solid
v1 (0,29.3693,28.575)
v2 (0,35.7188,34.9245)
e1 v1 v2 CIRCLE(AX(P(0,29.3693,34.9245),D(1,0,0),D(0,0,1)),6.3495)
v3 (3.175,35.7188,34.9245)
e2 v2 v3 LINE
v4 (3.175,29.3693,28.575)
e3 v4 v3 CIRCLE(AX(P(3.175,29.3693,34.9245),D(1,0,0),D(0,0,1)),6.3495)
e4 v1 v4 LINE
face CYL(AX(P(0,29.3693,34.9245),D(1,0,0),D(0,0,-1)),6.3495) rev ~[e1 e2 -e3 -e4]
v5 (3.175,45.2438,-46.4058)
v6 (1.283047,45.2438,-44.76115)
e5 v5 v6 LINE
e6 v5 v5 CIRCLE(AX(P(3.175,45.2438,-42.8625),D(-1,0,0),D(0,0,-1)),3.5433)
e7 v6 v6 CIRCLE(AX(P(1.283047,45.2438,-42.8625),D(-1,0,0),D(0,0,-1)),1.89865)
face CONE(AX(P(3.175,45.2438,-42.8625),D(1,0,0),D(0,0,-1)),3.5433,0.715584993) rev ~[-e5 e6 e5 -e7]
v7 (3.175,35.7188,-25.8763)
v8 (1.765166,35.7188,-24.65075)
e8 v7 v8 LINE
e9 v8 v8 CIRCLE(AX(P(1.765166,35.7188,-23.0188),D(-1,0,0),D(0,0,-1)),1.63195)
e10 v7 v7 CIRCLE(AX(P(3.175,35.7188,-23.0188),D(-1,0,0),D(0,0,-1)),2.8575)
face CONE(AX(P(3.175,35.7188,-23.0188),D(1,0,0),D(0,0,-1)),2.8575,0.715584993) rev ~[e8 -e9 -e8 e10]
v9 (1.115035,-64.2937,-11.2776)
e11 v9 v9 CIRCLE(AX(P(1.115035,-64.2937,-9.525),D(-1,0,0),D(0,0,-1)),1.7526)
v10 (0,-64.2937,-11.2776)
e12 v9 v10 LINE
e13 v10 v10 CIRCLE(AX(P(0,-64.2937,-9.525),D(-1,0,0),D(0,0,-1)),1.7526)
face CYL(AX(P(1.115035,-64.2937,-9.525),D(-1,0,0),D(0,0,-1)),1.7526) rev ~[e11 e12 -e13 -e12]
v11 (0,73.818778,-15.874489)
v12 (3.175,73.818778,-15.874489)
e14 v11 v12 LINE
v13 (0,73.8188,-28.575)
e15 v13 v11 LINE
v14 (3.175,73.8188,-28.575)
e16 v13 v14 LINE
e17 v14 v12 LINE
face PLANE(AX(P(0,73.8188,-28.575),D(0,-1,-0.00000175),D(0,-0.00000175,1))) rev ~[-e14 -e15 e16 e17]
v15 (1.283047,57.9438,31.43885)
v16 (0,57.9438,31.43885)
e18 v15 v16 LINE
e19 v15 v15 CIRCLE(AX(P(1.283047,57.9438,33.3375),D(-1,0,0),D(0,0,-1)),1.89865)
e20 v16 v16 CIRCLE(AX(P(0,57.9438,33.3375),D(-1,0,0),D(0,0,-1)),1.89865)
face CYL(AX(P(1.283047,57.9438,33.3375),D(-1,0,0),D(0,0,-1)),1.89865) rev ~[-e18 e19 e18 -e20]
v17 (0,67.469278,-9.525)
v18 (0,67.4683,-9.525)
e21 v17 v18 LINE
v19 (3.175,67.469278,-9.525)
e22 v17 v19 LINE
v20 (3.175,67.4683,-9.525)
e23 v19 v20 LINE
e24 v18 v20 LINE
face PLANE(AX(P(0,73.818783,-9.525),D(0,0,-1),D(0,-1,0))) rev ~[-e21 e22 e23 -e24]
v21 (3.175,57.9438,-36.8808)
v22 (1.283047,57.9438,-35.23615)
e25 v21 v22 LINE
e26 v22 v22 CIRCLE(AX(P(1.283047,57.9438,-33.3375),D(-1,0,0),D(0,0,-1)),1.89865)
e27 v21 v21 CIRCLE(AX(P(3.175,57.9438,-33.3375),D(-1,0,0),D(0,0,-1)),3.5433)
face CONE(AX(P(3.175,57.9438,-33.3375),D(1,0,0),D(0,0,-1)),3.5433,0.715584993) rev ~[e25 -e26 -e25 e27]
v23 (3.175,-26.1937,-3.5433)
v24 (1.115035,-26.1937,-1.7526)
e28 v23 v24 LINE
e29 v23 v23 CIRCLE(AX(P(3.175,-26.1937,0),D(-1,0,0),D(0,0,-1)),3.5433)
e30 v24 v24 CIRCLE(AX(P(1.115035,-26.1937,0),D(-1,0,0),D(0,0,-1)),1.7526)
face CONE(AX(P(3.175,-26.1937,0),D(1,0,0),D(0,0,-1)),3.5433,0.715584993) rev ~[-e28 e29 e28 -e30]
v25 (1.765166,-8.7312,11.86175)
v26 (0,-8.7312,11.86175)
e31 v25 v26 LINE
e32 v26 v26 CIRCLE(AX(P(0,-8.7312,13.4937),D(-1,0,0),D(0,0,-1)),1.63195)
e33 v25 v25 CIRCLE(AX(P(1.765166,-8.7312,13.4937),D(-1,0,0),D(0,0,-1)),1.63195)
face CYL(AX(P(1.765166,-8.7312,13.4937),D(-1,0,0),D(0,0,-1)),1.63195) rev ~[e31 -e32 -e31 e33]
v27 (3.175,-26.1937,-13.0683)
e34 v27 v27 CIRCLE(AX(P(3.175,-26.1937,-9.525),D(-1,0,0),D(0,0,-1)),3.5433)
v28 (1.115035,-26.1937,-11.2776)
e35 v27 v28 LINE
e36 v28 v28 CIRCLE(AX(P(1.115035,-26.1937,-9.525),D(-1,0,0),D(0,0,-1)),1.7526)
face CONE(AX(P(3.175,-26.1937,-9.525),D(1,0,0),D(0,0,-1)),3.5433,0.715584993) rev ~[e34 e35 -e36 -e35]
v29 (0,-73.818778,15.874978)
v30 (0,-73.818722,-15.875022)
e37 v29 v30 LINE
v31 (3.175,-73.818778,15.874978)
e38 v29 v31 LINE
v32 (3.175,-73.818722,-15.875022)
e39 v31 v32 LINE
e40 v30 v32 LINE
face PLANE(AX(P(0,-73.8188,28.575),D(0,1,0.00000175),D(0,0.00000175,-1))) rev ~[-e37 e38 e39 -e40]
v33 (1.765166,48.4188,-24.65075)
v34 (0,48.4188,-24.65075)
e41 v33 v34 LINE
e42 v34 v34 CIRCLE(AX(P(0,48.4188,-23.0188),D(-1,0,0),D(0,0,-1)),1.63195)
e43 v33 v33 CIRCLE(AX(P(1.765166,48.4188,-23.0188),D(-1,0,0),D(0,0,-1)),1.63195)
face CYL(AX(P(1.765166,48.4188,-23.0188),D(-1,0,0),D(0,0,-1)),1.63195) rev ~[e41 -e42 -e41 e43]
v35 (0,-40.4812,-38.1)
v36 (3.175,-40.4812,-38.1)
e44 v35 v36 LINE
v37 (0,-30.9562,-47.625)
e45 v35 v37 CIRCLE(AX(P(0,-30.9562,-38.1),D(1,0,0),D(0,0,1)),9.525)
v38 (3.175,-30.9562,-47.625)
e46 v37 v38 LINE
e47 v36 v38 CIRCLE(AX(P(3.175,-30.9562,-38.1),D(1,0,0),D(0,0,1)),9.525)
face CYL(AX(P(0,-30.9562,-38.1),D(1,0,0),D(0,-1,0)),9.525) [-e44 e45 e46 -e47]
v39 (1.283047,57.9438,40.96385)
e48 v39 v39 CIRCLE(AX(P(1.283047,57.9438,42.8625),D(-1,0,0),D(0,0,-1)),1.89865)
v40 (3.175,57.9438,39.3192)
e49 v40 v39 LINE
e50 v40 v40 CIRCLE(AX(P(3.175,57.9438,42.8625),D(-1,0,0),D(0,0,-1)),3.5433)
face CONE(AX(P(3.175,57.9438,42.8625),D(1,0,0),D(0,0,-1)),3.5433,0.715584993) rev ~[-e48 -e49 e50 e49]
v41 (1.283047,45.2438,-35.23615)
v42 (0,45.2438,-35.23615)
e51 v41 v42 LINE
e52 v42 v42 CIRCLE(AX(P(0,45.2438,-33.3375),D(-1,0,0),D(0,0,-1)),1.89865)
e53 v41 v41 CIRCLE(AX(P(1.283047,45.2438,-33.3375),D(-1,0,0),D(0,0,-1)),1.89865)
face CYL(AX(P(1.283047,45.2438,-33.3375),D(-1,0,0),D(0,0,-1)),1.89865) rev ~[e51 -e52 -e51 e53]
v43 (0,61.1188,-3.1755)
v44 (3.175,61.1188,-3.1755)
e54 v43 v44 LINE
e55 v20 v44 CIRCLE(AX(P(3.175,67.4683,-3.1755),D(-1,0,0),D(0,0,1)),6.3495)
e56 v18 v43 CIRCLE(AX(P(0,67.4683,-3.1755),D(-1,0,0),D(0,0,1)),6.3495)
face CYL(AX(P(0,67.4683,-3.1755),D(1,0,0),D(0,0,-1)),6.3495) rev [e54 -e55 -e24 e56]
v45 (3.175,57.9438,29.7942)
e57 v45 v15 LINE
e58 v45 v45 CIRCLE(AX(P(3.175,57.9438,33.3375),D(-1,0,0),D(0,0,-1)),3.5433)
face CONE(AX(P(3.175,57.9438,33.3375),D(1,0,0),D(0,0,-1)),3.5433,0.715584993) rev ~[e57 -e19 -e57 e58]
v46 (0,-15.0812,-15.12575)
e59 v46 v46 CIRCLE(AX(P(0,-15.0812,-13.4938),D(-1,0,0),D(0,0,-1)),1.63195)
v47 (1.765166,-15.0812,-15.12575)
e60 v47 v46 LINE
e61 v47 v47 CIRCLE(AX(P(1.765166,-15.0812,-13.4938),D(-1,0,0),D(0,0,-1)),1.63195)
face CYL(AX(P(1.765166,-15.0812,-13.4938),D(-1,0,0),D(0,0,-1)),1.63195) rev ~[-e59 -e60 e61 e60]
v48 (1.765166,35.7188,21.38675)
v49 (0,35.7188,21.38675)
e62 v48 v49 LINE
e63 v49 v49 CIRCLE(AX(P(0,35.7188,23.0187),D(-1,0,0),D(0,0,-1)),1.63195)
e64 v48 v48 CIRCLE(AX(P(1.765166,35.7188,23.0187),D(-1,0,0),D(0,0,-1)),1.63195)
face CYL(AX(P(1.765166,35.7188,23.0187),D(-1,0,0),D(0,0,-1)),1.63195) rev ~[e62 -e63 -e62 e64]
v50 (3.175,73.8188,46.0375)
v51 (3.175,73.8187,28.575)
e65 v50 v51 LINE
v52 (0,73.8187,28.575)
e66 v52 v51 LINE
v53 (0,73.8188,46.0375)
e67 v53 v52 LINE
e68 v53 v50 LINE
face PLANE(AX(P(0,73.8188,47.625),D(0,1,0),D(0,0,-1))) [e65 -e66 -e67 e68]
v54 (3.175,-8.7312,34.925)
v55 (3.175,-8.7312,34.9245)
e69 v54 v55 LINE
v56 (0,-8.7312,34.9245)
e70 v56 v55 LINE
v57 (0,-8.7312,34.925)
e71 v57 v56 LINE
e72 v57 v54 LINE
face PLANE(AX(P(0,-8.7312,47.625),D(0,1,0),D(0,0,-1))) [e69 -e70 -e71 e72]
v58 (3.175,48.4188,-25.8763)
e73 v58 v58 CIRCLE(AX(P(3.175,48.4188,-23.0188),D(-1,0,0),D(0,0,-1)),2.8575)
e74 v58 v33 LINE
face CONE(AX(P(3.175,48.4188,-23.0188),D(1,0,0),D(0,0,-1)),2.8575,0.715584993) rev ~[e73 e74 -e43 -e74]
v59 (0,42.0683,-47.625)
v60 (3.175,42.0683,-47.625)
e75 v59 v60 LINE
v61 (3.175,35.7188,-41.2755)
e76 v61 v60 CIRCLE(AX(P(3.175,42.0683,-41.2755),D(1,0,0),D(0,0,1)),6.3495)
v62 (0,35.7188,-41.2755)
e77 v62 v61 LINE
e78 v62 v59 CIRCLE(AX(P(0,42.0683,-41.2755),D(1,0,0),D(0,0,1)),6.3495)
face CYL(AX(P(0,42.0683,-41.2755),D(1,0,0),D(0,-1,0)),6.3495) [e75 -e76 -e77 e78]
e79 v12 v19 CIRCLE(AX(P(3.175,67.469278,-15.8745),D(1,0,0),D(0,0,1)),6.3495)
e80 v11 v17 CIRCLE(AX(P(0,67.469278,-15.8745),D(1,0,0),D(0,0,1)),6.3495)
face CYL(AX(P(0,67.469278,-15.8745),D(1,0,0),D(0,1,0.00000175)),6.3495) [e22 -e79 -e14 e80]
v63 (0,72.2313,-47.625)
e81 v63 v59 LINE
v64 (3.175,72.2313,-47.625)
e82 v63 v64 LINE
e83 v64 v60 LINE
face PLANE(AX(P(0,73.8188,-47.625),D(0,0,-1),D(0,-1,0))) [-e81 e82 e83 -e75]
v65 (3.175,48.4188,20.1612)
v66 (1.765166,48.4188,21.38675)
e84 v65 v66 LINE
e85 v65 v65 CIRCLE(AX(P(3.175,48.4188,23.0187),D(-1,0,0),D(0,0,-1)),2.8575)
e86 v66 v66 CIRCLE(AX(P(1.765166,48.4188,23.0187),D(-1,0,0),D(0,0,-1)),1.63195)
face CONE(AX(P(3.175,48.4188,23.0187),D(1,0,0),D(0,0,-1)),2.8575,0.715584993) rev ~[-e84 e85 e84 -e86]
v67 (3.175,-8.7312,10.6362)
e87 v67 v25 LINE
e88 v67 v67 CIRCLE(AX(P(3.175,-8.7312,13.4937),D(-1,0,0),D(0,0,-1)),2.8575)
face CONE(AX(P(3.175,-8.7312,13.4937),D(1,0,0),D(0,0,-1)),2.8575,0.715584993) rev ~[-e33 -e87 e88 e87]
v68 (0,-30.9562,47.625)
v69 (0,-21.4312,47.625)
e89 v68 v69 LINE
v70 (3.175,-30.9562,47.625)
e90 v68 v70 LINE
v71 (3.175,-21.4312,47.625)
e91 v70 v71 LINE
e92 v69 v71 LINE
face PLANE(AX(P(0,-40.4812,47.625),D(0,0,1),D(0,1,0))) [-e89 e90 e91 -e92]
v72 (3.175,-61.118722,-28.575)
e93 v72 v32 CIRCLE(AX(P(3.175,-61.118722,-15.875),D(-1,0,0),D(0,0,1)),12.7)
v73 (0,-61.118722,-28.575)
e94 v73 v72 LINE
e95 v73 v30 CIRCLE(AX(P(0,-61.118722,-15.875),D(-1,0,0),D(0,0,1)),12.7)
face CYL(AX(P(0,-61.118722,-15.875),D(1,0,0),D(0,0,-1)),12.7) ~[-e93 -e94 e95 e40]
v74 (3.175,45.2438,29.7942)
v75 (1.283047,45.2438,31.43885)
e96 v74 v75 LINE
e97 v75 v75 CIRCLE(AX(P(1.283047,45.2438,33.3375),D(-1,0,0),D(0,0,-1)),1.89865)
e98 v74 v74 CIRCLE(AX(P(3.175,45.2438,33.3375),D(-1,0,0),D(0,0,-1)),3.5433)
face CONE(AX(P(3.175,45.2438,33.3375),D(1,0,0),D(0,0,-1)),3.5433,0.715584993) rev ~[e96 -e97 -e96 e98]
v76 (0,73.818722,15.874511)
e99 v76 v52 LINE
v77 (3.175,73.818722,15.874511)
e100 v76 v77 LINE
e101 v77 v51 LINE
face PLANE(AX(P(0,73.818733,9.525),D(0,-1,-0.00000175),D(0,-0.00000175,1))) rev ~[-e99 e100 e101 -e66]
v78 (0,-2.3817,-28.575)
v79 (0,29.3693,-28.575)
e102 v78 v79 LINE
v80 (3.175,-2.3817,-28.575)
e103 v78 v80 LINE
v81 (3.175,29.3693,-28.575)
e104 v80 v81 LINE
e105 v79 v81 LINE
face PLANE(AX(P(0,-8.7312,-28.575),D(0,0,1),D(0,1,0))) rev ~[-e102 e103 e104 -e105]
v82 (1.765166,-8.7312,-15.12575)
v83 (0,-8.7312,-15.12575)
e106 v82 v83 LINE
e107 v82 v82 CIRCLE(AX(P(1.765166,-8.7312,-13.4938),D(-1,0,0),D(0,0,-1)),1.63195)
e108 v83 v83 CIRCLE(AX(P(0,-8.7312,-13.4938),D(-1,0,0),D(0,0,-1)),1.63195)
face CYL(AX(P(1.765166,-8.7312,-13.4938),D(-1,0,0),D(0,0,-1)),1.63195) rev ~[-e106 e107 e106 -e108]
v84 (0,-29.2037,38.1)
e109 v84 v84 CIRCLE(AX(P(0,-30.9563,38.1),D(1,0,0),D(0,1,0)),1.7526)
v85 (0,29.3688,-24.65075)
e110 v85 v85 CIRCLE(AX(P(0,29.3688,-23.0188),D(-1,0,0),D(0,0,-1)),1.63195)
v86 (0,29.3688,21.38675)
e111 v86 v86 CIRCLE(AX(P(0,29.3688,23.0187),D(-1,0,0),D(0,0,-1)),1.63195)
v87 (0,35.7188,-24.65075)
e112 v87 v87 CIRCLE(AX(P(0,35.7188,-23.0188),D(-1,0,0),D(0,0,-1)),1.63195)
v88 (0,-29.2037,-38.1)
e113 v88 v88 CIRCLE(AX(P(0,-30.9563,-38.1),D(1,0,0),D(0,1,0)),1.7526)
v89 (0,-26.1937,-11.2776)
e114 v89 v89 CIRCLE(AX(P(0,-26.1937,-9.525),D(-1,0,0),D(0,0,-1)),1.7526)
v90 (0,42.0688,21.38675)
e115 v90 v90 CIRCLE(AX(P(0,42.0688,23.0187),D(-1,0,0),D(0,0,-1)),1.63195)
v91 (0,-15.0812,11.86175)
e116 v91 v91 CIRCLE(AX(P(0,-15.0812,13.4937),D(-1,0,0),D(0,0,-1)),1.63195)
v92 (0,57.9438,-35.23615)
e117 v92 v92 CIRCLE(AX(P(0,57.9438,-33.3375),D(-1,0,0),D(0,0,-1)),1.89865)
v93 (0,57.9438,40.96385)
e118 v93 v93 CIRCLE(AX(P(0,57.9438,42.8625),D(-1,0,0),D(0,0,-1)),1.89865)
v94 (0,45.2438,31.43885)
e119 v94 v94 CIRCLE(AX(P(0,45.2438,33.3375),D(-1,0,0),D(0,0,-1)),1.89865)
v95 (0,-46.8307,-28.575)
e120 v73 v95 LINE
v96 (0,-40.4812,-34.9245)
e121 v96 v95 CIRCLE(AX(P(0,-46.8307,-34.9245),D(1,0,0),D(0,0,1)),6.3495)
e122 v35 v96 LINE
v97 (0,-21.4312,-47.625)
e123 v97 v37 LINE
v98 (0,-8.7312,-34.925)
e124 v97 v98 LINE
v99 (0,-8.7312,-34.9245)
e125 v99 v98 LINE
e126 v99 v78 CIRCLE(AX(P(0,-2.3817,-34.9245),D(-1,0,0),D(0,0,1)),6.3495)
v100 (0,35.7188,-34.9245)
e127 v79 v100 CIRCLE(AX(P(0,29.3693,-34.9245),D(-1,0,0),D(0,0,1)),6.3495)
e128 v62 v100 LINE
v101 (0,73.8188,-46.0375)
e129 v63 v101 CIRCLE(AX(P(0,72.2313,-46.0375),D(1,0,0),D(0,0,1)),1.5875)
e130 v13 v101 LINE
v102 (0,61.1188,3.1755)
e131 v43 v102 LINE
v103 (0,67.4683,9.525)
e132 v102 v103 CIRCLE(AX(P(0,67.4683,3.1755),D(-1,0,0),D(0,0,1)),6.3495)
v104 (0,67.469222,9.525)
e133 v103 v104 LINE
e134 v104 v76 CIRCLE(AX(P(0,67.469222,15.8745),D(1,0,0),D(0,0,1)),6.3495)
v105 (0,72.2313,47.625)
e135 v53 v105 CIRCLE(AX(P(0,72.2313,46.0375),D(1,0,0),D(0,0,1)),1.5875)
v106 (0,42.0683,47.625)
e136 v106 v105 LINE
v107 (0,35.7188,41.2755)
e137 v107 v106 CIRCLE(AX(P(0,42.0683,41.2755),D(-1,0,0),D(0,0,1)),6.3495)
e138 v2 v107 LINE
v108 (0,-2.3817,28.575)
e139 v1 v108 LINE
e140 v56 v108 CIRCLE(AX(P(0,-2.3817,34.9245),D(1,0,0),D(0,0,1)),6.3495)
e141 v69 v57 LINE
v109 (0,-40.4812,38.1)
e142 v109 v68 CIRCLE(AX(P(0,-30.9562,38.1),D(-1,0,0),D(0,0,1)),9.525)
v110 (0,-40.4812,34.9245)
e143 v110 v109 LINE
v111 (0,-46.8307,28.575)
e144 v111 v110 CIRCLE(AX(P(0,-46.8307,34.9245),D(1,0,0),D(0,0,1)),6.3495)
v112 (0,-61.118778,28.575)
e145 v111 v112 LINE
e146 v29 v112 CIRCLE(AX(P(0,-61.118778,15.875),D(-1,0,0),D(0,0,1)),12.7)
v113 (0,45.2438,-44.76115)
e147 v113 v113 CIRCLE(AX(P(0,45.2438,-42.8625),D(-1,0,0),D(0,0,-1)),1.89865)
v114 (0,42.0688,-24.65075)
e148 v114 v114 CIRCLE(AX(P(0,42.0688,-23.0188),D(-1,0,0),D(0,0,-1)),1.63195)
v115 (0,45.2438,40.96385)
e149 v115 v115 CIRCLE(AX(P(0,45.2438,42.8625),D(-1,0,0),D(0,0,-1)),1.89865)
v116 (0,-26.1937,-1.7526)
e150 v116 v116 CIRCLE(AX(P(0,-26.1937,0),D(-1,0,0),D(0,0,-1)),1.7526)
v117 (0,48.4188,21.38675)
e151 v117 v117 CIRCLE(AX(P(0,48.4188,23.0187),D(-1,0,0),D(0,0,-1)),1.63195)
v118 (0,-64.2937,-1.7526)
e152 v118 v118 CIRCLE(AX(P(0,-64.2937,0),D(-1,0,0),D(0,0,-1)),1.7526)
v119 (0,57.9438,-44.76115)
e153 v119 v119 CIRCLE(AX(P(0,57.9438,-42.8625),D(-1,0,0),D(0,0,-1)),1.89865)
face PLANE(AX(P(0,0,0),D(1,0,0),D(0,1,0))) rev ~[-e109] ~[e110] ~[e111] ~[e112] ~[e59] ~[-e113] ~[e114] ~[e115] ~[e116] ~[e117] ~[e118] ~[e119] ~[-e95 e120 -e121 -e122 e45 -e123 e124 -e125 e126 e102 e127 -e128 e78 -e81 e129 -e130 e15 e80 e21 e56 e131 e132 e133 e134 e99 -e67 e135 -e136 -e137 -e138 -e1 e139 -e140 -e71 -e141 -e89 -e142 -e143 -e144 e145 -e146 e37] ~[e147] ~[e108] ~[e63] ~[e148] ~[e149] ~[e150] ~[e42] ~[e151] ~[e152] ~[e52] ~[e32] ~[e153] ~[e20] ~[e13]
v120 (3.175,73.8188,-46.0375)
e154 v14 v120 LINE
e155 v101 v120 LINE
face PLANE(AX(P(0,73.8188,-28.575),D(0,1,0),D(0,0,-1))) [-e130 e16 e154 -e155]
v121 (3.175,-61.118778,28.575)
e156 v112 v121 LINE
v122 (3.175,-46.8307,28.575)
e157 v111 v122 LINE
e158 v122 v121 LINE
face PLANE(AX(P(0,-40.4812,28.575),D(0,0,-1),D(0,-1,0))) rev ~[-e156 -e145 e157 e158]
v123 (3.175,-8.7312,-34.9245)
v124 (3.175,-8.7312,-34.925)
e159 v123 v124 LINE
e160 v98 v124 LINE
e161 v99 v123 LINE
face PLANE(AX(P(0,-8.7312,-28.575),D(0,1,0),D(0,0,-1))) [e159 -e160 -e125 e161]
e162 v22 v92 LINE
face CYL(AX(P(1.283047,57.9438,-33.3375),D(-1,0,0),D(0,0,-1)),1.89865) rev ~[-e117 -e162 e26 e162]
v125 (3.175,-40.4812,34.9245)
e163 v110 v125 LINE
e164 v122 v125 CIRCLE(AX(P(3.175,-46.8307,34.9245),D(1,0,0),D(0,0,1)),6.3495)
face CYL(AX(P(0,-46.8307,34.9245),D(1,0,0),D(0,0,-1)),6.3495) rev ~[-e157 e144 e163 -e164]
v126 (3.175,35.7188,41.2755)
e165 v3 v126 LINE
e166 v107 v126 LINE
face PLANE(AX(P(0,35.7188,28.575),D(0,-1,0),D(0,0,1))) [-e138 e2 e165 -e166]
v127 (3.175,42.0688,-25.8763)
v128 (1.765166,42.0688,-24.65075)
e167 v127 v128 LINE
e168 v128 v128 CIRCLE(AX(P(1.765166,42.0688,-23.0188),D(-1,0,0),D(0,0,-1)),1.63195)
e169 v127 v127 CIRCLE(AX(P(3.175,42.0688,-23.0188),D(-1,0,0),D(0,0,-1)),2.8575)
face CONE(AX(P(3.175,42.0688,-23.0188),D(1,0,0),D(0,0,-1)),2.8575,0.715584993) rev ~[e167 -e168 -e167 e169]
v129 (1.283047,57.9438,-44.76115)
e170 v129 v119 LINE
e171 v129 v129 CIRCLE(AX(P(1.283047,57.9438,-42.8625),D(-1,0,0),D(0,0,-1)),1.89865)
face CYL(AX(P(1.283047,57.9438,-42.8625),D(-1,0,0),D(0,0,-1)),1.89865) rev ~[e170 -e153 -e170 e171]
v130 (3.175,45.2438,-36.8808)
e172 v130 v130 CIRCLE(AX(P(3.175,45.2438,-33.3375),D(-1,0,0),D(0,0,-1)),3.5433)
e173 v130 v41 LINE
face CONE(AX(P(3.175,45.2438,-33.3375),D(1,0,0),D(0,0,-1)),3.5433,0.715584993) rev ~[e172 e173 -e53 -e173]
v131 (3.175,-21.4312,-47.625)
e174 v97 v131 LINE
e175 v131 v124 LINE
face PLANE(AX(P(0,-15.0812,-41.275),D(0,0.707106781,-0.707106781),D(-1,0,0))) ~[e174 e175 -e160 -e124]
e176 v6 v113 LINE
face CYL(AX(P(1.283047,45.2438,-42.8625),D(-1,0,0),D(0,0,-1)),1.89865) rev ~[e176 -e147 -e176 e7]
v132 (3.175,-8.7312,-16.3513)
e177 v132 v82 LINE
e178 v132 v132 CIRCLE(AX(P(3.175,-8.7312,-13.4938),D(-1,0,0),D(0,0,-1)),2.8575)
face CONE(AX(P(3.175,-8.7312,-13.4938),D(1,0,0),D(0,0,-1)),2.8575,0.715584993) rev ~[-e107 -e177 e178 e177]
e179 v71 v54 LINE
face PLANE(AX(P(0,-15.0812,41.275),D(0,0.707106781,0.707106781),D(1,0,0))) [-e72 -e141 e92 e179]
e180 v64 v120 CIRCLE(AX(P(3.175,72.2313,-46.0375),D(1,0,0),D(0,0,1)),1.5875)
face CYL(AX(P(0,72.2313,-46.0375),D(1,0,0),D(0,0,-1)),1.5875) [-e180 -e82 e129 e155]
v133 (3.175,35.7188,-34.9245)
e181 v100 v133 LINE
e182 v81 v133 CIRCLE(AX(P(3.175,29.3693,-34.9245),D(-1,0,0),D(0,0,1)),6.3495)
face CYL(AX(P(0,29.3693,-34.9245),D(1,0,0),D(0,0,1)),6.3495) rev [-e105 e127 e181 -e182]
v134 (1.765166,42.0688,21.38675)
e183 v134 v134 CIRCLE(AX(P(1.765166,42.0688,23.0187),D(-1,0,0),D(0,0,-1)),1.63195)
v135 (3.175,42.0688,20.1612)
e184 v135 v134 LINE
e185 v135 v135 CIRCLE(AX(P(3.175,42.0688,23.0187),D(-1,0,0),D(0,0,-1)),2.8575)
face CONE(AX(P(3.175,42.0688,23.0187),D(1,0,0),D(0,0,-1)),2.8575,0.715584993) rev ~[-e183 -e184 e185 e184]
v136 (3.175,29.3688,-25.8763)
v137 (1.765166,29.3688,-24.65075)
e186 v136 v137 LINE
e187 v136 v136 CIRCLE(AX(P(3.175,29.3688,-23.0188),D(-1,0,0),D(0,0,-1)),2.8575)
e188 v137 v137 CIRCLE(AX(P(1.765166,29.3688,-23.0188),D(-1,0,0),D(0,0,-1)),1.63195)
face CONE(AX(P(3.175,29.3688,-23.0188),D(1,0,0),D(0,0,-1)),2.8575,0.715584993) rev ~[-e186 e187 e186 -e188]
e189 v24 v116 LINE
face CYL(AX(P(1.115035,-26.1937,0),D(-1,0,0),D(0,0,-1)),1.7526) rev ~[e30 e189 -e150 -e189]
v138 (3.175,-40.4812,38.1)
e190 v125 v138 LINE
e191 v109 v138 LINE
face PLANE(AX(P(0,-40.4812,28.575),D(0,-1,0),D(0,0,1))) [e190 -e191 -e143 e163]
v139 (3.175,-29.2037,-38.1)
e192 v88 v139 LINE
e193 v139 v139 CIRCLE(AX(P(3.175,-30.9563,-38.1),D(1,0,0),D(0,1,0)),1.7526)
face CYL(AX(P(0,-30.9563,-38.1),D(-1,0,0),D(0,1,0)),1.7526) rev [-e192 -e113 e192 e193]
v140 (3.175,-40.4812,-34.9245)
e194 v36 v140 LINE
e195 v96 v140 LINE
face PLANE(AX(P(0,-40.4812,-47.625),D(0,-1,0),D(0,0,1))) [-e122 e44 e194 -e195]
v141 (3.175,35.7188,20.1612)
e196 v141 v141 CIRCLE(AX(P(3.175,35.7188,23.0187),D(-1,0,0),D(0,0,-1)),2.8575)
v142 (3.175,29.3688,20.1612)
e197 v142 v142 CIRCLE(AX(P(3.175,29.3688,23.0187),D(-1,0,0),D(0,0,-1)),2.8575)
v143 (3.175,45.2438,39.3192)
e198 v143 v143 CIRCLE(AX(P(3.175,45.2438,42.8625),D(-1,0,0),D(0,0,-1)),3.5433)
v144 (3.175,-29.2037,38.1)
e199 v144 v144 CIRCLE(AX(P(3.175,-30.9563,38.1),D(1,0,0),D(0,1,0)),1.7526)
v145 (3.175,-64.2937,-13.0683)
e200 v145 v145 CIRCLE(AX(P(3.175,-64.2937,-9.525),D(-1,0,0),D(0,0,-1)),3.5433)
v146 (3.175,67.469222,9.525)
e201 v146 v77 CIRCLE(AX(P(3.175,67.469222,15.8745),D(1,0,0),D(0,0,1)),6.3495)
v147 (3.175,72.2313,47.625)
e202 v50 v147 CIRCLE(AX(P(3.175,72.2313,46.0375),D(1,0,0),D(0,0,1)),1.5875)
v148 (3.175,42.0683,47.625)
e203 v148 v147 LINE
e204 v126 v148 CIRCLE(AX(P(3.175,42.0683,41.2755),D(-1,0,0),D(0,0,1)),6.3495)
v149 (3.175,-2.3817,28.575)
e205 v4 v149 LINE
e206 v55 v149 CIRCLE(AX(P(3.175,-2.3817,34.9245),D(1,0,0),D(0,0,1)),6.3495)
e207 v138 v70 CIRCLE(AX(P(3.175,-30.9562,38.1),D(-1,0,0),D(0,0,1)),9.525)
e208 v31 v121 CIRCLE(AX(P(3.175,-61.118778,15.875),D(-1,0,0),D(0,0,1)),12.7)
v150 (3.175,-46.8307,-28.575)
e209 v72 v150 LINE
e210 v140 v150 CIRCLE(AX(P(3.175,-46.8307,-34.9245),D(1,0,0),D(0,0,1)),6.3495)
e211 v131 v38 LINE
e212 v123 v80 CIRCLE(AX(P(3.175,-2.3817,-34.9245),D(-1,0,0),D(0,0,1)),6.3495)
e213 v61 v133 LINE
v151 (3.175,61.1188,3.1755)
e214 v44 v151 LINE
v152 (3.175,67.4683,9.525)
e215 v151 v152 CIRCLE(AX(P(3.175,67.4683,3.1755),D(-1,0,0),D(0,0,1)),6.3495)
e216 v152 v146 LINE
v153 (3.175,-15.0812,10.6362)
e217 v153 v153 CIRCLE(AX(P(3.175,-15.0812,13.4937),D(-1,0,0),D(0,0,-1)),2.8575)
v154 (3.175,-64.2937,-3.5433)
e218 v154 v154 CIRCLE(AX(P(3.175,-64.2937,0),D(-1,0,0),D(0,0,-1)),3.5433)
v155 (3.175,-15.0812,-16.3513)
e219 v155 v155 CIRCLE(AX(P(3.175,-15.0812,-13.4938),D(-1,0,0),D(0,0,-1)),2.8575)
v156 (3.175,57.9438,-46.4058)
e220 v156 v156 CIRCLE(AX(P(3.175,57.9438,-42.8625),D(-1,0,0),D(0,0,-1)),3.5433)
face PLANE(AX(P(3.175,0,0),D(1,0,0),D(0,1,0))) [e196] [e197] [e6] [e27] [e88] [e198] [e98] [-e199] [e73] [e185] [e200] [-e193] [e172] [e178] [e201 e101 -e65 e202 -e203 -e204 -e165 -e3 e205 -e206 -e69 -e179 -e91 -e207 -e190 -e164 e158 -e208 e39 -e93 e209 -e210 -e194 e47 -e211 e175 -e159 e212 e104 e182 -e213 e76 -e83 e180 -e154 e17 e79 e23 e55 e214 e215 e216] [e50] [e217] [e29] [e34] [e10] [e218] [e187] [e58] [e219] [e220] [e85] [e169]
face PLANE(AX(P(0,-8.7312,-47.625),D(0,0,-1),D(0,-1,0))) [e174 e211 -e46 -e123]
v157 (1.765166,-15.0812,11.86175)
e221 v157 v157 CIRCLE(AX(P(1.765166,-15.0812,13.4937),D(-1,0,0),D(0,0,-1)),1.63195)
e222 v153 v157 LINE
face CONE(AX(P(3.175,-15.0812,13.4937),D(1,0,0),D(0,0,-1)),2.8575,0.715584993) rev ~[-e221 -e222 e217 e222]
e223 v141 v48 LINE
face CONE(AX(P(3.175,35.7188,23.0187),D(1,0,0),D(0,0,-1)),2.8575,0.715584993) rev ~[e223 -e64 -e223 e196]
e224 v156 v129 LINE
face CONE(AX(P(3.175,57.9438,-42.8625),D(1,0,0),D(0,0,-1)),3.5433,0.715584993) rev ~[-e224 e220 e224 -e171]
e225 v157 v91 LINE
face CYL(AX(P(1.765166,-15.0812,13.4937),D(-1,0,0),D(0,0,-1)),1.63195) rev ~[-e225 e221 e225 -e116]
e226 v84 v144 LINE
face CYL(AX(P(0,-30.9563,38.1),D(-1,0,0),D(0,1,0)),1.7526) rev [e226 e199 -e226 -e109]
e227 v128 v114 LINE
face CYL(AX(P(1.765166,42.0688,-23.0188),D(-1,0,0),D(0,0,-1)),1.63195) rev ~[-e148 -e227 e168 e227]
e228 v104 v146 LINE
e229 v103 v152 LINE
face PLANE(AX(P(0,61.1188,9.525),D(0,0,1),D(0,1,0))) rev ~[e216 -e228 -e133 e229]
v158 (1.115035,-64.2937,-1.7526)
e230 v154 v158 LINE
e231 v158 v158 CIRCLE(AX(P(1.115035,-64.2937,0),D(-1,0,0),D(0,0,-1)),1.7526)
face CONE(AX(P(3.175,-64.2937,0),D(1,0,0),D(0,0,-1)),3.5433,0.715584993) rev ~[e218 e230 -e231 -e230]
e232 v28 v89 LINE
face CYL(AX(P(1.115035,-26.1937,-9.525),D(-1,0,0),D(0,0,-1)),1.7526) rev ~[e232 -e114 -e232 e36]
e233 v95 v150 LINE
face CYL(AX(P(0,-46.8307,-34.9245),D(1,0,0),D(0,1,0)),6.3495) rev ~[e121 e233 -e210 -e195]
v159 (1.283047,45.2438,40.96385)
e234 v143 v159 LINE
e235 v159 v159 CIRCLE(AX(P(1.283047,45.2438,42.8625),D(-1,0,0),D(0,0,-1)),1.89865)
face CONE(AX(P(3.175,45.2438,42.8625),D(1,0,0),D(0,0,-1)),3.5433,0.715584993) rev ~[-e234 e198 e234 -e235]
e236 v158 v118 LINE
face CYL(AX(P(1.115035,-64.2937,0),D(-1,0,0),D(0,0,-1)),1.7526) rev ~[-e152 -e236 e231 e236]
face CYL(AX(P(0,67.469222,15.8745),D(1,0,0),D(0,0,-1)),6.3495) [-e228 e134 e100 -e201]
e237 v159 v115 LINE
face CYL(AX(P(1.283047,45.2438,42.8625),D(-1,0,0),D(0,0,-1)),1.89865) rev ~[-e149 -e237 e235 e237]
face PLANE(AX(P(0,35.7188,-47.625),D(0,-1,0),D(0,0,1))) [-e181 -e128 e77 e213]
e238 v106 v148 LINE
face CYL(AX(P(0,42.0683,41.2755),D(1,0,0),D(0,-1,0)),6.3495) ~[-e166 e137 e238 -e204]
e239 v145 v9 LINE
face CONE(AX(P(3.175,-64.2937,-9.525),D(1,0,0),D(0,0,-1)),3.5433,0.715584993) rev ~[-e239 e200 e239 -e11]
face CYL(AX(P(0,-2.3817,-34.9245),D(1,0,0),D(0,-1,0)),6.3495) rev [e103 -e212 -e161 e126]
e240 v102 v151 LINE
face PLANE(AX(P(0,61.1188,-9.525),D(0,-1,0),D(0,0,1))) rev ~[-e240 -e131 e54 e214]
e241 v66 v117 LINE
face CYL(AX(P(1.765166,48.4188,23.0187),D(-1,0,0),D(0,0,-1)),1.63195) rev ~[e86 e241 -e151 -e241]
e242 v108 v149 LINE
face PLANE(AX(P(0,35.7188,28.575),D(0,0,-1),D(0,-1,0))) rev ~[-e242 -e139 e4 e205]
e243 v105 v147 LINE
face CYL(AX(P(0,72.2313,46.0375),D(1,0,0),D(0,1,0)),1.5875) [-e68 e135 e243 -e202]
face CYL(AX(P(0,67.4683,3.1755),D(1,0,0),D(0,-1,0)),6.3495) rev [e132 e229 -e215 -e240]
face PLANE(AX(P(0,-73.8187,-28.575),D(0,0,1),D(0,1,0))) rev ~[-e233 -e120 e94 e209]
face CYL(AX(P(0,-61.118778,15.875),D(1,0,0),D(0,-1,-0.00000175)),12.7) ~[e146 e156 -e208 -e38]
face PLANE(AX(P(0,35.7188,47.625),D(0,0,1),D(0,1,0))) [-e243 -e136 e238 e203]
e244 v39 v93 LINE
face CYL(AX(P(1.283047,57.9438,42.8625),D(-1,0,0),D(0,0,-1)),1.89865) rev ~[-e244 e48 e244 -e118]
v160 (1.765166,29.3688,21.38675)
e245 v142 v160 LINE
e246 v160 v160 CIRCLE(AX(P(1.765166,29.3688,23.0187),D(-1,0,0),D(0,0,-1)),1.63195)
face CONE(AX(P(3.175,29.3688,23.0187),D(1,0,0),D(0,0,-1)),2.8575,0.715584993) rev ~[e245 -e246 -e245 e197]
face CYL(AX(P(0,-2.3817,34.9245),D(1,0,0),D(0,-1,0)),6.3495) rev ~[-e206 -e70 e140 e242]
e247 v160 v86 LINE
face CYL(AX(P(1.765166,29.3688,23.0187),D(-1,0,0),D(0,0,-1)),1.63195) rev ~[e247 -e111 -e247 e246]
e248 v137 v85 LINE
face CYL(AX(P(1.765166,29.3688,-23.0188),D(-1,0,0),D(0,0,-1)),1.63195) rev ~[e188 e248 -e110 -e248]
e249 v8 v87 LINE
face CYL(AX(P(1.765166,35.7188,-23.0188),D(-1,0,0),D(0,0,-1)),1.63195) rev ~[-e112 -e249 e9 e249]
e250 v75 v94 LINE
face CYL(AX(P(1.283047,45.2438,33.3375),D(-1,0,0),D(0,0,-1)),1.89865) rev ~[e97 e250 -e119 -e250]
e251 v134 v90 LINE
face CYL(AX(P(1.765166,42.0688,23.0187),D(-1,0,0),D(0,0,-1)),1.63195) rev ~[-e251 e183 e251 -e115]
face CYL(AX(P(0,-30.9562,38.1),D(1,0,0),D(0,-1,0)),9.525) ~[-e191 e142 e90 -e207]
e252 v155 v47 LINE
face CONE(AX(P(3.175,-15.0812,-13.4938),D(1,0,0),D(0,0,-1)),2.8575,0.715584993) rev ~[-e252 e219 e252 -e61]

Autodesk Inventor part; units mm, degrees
ref_plane "YZ Plane" through (0, 0, 0) normal (1, 0, 0) x (0, 1, 0)
ref_plane "XZ Plane" through (0, 0, 0) normal (0, 1, 0) x (-1, 0, 0)
ref_plane "XY Plane" through (0, 0, 0) normal (0, 0, 1) x (1, 0, 0)
sketch "Sketch1" plane through (0, 0, 0) normal (1, 0, 0) x (0, 1, 0)
  line L0 (-73.8187, -28.575) -> (73.8188, -28.575)
  line L1 (73.8188, -28.575) -> (73.8187, 28.575)
  line L2 (73.8187, 28.575) -> (-73.8188, 28.575)
  line L3 (-73.8188, 28.575) -> (-73.8187, -28.575)
  line L4 (-73.8187, -28.575) -> (73.8187, 28.575) construction
  line L5 (73.8188, -28.575) -> (-73.8188, 28.575) construction
  line L6 (-73.8187, 0) -> (73.8188, 0) construction
  line L7 (-8.7312, -47.625) -> (-40.4812, -47.625)
  line L8 (-40.4812, -47.625) -> (-40.4812, 47.625)
  line L9 (-40.4812, 47.625) -> (-8.7312, 47.625)
  line L10 (-8.7312, 47.625) -> (-8.7312, -47.625)
  line L11 (-8.7312, -47.625) -> (-40.4812, 47.625) construction
  line L12 (-40.4812, -47.625) -> (-8.7312, 47.625) construction
  circle A0 centre (-30.9563, 38.1) radius 9.525 construction
  circle A1 centre (-30.9563, 38.1) radius 1.7526
  circle A2 centre (-30.9563, -38.1) radius 1.7526
  line L13 (35.7188, 47.625) -> (73.8188, 47.625)
  line L14 (73.8188, 47.625) -> (73.8188, -47.625)
  line L15 (73.8188, -47.625) -> (35.7188, -47.625)
  line L16 (35.7188, -47.625) -> (35.7188, 47.625)
  line L17 (35.7188, 47.625) -> (73.8188, -47.625) construction
  line L18 (73.8188, 47.625) -> (35.7188, -47.625) construction
  line L19 (86.5188, -9.525) -> (61.1188, -9.525)
  line L20 (61.1188, -9.525) -> (61.1188, 9.525)
  line L21 (61.1188, 9.525) -> (86.5188, 9.525)
  line L22 (86.5188, 9.525) -> (86.5188, -9.525)
  line L23 (86.5188, -9.525) -> (61.1188, 9.525) construction
  line L24 (61.1188, -9.525) -> (86.5188, 9.525) construction
  point P0 (0, 0)
  point P1 (-24.6062, 0)
  point P2 (-8.7312, -28.575)
  point P3 (-40.4812, -28.575)
  point P4 (-40.4812, 28.575)
  point P5 (-8.7312, 28.575)
  point P6 (54.7687, 0)
  point P7 (35.7188, -28.575)
  point P8 (35.7187, 28.575)
  point P9 (73.8187, -9.525)
  point P10 (73.8187, 9.525)
  dimension "d0" = 147.6375
  dimension "d1" = 57.15
  dimension "d4" = 33.3375
  dimension "d5" = 31.75
  dimension "d6" = 19.05
  dimension "d7" = 3.5052
  dimension "d34" = 38.1
  dimension "d35" = 95.25
  dimension "d36" = 25.4
  dimension "d37" = 19.05
extrude "Extrusion1" add sketch "Sketch1" along normal blind 3.175 contours L3 L2 L8 L0 | L8 L2 L10 L0 | L0 L10 L7 L8 | L10 L2 L16 L0 | L8 L9 L10 L2 | L16 L2 L1 L21 L20 L19 L0 | L0 L14 L15 L16 | L16 L13 L14 L2
fillet "Fillet1" radius 9.525 2 edges at (1.5875, -40.4812, 47.625) (1.5875, -40.4812, -47.625)
fillet "Fillet2" radius 6.35 12 edges at (1.5875, -40.4812, 28.575) (1.5875, -40.4812, -28.575) (1.5875, -8.7312, -28.575) (1.5875, -8.7312, 28.575) (1.5875, 35.7188, -28.575) (1.5875, 35.7188, -47.625) (1.5875, 35.7188, 47.625) (1.5875, 35.7187, 28.575) (1.5875, 61.1188, 9.525) (1.5875, 73.8187, 9.525) (1.5875, 61.1188, -9.525) (1.5875, 73.8187, -9.525)
fillet "Fillet3" radius 12.7 2 edges at (1.5875, -73.8187, -28.575) (1.5875, -73.8188, 28.575)
chamfer "Chamfer3" distance 12.7 angle 45 2 edges at (1.5875, -8.7312, -47.625) (1.5875, -8.7312, 47.625)
sketch "Sketch2" plane through (3.175, 0, 0) normal (1, 0, 0) x (0, 0, -1)
  point P0 (-23.0187, 48.4188)
  point P1 (-23.0187, 42.0688)
  point P2 (-23.0187, 35.7188)
  point P3 (-23.0187, 29.3688)
  point P4 (23.0188, 48.4188)
  point P5 (23.0188, 42.0688)
  point P6 (23.0188, 35.7188)
  point P7 (23.0188, 29.3688)
  point P8 (13.4938, -8.7312)
  point P9 (13.4938, -15.0812)
  point P10 (-13.4937, -8.7312)
  point P11 (-13.4937, -15.0812)
hole "Hole1" at (3.175, 48.4188, 23.0187) at (3.175, 42.0688, 23.0187) at (3.175, 35.7188, 23.0187) at (3.175, 29.3688, 23.0187) at (3.175, 48.4188, -23.0188) at (3.175, 42.0688, -23.0188) at (3.175, 35.7188, -23.0188) at (3.175, 29.3688, -23.0188) at (3.175, -8.7312, -13.4938) at (3.175, -15.0812, -13.4938) at (3.175, -8.7312, 13.4937) at (3.175, -15.0812, 13.4937) direction (-1, 0, 0) diameter 3.2639 end through all countersink diameter 5.715 countersink angle 82
sketch "Sketch3" plane through (3.175, 0, 0) normal (1, 0, 0) x (0, 0, -1)
  point P0 (0, -26.1937)
  point P1 (9.525, -26.1937)
  point P2 (9.525, -64.2937)
  point P3 (0, -64.2937)
hole "Hole2" at (3.175, -26.1937, 0) at (3.175, -26.1937, -9.525) at (3.175, -64.2937, -9.525) at (3.175, -64.2937, 0) direction (-1, 0, 0) diameter 3.5052 end through all countersink diameter 7.0866 countersink angle 82
fillet "Fillet4" radius 1.5875 2 edges at (1.5875, 73.8188, 47.625) (1.5875, 73.8188, -47.625)
sketch "Sketch4" plane through (3.175, 0, 0) normal (1, 0, 0) x (0, 0, -1)
  point P0 (33.3375, 57.9438)
  point P1 (42.8625, 57.9438)
  point P2 (42.8625, 45.2438)
  point P3 (33.3375, 45.2438)
  point P4 (-42.8625, 45.2438)
  point P5 (-33.3375, 45.2438)
  point P6 (-33.3375, 57.9438)
  point P7 (-42.8625, 57.9438)
hole "Hole3" at (3.175, 57.9438, -33.3375) at (3.175, 57.9438, -42.8625) at (3.175, 45.2438, -42.8625) at (3.175, 45.2438, -33.3375) at (3.175, 45.2438, 42.8625) at (3.175, 45.2438, 33.3375) at (3.175, 57.9438, 33.3375) at (3.175, 57.9438, 42.8625) direction (-1, 0, 0) diameter 3.7973 end through all countersink diameter 7.0866 countersink angle 82
properties part number "Bottom Plate" material "UHMW, White"
